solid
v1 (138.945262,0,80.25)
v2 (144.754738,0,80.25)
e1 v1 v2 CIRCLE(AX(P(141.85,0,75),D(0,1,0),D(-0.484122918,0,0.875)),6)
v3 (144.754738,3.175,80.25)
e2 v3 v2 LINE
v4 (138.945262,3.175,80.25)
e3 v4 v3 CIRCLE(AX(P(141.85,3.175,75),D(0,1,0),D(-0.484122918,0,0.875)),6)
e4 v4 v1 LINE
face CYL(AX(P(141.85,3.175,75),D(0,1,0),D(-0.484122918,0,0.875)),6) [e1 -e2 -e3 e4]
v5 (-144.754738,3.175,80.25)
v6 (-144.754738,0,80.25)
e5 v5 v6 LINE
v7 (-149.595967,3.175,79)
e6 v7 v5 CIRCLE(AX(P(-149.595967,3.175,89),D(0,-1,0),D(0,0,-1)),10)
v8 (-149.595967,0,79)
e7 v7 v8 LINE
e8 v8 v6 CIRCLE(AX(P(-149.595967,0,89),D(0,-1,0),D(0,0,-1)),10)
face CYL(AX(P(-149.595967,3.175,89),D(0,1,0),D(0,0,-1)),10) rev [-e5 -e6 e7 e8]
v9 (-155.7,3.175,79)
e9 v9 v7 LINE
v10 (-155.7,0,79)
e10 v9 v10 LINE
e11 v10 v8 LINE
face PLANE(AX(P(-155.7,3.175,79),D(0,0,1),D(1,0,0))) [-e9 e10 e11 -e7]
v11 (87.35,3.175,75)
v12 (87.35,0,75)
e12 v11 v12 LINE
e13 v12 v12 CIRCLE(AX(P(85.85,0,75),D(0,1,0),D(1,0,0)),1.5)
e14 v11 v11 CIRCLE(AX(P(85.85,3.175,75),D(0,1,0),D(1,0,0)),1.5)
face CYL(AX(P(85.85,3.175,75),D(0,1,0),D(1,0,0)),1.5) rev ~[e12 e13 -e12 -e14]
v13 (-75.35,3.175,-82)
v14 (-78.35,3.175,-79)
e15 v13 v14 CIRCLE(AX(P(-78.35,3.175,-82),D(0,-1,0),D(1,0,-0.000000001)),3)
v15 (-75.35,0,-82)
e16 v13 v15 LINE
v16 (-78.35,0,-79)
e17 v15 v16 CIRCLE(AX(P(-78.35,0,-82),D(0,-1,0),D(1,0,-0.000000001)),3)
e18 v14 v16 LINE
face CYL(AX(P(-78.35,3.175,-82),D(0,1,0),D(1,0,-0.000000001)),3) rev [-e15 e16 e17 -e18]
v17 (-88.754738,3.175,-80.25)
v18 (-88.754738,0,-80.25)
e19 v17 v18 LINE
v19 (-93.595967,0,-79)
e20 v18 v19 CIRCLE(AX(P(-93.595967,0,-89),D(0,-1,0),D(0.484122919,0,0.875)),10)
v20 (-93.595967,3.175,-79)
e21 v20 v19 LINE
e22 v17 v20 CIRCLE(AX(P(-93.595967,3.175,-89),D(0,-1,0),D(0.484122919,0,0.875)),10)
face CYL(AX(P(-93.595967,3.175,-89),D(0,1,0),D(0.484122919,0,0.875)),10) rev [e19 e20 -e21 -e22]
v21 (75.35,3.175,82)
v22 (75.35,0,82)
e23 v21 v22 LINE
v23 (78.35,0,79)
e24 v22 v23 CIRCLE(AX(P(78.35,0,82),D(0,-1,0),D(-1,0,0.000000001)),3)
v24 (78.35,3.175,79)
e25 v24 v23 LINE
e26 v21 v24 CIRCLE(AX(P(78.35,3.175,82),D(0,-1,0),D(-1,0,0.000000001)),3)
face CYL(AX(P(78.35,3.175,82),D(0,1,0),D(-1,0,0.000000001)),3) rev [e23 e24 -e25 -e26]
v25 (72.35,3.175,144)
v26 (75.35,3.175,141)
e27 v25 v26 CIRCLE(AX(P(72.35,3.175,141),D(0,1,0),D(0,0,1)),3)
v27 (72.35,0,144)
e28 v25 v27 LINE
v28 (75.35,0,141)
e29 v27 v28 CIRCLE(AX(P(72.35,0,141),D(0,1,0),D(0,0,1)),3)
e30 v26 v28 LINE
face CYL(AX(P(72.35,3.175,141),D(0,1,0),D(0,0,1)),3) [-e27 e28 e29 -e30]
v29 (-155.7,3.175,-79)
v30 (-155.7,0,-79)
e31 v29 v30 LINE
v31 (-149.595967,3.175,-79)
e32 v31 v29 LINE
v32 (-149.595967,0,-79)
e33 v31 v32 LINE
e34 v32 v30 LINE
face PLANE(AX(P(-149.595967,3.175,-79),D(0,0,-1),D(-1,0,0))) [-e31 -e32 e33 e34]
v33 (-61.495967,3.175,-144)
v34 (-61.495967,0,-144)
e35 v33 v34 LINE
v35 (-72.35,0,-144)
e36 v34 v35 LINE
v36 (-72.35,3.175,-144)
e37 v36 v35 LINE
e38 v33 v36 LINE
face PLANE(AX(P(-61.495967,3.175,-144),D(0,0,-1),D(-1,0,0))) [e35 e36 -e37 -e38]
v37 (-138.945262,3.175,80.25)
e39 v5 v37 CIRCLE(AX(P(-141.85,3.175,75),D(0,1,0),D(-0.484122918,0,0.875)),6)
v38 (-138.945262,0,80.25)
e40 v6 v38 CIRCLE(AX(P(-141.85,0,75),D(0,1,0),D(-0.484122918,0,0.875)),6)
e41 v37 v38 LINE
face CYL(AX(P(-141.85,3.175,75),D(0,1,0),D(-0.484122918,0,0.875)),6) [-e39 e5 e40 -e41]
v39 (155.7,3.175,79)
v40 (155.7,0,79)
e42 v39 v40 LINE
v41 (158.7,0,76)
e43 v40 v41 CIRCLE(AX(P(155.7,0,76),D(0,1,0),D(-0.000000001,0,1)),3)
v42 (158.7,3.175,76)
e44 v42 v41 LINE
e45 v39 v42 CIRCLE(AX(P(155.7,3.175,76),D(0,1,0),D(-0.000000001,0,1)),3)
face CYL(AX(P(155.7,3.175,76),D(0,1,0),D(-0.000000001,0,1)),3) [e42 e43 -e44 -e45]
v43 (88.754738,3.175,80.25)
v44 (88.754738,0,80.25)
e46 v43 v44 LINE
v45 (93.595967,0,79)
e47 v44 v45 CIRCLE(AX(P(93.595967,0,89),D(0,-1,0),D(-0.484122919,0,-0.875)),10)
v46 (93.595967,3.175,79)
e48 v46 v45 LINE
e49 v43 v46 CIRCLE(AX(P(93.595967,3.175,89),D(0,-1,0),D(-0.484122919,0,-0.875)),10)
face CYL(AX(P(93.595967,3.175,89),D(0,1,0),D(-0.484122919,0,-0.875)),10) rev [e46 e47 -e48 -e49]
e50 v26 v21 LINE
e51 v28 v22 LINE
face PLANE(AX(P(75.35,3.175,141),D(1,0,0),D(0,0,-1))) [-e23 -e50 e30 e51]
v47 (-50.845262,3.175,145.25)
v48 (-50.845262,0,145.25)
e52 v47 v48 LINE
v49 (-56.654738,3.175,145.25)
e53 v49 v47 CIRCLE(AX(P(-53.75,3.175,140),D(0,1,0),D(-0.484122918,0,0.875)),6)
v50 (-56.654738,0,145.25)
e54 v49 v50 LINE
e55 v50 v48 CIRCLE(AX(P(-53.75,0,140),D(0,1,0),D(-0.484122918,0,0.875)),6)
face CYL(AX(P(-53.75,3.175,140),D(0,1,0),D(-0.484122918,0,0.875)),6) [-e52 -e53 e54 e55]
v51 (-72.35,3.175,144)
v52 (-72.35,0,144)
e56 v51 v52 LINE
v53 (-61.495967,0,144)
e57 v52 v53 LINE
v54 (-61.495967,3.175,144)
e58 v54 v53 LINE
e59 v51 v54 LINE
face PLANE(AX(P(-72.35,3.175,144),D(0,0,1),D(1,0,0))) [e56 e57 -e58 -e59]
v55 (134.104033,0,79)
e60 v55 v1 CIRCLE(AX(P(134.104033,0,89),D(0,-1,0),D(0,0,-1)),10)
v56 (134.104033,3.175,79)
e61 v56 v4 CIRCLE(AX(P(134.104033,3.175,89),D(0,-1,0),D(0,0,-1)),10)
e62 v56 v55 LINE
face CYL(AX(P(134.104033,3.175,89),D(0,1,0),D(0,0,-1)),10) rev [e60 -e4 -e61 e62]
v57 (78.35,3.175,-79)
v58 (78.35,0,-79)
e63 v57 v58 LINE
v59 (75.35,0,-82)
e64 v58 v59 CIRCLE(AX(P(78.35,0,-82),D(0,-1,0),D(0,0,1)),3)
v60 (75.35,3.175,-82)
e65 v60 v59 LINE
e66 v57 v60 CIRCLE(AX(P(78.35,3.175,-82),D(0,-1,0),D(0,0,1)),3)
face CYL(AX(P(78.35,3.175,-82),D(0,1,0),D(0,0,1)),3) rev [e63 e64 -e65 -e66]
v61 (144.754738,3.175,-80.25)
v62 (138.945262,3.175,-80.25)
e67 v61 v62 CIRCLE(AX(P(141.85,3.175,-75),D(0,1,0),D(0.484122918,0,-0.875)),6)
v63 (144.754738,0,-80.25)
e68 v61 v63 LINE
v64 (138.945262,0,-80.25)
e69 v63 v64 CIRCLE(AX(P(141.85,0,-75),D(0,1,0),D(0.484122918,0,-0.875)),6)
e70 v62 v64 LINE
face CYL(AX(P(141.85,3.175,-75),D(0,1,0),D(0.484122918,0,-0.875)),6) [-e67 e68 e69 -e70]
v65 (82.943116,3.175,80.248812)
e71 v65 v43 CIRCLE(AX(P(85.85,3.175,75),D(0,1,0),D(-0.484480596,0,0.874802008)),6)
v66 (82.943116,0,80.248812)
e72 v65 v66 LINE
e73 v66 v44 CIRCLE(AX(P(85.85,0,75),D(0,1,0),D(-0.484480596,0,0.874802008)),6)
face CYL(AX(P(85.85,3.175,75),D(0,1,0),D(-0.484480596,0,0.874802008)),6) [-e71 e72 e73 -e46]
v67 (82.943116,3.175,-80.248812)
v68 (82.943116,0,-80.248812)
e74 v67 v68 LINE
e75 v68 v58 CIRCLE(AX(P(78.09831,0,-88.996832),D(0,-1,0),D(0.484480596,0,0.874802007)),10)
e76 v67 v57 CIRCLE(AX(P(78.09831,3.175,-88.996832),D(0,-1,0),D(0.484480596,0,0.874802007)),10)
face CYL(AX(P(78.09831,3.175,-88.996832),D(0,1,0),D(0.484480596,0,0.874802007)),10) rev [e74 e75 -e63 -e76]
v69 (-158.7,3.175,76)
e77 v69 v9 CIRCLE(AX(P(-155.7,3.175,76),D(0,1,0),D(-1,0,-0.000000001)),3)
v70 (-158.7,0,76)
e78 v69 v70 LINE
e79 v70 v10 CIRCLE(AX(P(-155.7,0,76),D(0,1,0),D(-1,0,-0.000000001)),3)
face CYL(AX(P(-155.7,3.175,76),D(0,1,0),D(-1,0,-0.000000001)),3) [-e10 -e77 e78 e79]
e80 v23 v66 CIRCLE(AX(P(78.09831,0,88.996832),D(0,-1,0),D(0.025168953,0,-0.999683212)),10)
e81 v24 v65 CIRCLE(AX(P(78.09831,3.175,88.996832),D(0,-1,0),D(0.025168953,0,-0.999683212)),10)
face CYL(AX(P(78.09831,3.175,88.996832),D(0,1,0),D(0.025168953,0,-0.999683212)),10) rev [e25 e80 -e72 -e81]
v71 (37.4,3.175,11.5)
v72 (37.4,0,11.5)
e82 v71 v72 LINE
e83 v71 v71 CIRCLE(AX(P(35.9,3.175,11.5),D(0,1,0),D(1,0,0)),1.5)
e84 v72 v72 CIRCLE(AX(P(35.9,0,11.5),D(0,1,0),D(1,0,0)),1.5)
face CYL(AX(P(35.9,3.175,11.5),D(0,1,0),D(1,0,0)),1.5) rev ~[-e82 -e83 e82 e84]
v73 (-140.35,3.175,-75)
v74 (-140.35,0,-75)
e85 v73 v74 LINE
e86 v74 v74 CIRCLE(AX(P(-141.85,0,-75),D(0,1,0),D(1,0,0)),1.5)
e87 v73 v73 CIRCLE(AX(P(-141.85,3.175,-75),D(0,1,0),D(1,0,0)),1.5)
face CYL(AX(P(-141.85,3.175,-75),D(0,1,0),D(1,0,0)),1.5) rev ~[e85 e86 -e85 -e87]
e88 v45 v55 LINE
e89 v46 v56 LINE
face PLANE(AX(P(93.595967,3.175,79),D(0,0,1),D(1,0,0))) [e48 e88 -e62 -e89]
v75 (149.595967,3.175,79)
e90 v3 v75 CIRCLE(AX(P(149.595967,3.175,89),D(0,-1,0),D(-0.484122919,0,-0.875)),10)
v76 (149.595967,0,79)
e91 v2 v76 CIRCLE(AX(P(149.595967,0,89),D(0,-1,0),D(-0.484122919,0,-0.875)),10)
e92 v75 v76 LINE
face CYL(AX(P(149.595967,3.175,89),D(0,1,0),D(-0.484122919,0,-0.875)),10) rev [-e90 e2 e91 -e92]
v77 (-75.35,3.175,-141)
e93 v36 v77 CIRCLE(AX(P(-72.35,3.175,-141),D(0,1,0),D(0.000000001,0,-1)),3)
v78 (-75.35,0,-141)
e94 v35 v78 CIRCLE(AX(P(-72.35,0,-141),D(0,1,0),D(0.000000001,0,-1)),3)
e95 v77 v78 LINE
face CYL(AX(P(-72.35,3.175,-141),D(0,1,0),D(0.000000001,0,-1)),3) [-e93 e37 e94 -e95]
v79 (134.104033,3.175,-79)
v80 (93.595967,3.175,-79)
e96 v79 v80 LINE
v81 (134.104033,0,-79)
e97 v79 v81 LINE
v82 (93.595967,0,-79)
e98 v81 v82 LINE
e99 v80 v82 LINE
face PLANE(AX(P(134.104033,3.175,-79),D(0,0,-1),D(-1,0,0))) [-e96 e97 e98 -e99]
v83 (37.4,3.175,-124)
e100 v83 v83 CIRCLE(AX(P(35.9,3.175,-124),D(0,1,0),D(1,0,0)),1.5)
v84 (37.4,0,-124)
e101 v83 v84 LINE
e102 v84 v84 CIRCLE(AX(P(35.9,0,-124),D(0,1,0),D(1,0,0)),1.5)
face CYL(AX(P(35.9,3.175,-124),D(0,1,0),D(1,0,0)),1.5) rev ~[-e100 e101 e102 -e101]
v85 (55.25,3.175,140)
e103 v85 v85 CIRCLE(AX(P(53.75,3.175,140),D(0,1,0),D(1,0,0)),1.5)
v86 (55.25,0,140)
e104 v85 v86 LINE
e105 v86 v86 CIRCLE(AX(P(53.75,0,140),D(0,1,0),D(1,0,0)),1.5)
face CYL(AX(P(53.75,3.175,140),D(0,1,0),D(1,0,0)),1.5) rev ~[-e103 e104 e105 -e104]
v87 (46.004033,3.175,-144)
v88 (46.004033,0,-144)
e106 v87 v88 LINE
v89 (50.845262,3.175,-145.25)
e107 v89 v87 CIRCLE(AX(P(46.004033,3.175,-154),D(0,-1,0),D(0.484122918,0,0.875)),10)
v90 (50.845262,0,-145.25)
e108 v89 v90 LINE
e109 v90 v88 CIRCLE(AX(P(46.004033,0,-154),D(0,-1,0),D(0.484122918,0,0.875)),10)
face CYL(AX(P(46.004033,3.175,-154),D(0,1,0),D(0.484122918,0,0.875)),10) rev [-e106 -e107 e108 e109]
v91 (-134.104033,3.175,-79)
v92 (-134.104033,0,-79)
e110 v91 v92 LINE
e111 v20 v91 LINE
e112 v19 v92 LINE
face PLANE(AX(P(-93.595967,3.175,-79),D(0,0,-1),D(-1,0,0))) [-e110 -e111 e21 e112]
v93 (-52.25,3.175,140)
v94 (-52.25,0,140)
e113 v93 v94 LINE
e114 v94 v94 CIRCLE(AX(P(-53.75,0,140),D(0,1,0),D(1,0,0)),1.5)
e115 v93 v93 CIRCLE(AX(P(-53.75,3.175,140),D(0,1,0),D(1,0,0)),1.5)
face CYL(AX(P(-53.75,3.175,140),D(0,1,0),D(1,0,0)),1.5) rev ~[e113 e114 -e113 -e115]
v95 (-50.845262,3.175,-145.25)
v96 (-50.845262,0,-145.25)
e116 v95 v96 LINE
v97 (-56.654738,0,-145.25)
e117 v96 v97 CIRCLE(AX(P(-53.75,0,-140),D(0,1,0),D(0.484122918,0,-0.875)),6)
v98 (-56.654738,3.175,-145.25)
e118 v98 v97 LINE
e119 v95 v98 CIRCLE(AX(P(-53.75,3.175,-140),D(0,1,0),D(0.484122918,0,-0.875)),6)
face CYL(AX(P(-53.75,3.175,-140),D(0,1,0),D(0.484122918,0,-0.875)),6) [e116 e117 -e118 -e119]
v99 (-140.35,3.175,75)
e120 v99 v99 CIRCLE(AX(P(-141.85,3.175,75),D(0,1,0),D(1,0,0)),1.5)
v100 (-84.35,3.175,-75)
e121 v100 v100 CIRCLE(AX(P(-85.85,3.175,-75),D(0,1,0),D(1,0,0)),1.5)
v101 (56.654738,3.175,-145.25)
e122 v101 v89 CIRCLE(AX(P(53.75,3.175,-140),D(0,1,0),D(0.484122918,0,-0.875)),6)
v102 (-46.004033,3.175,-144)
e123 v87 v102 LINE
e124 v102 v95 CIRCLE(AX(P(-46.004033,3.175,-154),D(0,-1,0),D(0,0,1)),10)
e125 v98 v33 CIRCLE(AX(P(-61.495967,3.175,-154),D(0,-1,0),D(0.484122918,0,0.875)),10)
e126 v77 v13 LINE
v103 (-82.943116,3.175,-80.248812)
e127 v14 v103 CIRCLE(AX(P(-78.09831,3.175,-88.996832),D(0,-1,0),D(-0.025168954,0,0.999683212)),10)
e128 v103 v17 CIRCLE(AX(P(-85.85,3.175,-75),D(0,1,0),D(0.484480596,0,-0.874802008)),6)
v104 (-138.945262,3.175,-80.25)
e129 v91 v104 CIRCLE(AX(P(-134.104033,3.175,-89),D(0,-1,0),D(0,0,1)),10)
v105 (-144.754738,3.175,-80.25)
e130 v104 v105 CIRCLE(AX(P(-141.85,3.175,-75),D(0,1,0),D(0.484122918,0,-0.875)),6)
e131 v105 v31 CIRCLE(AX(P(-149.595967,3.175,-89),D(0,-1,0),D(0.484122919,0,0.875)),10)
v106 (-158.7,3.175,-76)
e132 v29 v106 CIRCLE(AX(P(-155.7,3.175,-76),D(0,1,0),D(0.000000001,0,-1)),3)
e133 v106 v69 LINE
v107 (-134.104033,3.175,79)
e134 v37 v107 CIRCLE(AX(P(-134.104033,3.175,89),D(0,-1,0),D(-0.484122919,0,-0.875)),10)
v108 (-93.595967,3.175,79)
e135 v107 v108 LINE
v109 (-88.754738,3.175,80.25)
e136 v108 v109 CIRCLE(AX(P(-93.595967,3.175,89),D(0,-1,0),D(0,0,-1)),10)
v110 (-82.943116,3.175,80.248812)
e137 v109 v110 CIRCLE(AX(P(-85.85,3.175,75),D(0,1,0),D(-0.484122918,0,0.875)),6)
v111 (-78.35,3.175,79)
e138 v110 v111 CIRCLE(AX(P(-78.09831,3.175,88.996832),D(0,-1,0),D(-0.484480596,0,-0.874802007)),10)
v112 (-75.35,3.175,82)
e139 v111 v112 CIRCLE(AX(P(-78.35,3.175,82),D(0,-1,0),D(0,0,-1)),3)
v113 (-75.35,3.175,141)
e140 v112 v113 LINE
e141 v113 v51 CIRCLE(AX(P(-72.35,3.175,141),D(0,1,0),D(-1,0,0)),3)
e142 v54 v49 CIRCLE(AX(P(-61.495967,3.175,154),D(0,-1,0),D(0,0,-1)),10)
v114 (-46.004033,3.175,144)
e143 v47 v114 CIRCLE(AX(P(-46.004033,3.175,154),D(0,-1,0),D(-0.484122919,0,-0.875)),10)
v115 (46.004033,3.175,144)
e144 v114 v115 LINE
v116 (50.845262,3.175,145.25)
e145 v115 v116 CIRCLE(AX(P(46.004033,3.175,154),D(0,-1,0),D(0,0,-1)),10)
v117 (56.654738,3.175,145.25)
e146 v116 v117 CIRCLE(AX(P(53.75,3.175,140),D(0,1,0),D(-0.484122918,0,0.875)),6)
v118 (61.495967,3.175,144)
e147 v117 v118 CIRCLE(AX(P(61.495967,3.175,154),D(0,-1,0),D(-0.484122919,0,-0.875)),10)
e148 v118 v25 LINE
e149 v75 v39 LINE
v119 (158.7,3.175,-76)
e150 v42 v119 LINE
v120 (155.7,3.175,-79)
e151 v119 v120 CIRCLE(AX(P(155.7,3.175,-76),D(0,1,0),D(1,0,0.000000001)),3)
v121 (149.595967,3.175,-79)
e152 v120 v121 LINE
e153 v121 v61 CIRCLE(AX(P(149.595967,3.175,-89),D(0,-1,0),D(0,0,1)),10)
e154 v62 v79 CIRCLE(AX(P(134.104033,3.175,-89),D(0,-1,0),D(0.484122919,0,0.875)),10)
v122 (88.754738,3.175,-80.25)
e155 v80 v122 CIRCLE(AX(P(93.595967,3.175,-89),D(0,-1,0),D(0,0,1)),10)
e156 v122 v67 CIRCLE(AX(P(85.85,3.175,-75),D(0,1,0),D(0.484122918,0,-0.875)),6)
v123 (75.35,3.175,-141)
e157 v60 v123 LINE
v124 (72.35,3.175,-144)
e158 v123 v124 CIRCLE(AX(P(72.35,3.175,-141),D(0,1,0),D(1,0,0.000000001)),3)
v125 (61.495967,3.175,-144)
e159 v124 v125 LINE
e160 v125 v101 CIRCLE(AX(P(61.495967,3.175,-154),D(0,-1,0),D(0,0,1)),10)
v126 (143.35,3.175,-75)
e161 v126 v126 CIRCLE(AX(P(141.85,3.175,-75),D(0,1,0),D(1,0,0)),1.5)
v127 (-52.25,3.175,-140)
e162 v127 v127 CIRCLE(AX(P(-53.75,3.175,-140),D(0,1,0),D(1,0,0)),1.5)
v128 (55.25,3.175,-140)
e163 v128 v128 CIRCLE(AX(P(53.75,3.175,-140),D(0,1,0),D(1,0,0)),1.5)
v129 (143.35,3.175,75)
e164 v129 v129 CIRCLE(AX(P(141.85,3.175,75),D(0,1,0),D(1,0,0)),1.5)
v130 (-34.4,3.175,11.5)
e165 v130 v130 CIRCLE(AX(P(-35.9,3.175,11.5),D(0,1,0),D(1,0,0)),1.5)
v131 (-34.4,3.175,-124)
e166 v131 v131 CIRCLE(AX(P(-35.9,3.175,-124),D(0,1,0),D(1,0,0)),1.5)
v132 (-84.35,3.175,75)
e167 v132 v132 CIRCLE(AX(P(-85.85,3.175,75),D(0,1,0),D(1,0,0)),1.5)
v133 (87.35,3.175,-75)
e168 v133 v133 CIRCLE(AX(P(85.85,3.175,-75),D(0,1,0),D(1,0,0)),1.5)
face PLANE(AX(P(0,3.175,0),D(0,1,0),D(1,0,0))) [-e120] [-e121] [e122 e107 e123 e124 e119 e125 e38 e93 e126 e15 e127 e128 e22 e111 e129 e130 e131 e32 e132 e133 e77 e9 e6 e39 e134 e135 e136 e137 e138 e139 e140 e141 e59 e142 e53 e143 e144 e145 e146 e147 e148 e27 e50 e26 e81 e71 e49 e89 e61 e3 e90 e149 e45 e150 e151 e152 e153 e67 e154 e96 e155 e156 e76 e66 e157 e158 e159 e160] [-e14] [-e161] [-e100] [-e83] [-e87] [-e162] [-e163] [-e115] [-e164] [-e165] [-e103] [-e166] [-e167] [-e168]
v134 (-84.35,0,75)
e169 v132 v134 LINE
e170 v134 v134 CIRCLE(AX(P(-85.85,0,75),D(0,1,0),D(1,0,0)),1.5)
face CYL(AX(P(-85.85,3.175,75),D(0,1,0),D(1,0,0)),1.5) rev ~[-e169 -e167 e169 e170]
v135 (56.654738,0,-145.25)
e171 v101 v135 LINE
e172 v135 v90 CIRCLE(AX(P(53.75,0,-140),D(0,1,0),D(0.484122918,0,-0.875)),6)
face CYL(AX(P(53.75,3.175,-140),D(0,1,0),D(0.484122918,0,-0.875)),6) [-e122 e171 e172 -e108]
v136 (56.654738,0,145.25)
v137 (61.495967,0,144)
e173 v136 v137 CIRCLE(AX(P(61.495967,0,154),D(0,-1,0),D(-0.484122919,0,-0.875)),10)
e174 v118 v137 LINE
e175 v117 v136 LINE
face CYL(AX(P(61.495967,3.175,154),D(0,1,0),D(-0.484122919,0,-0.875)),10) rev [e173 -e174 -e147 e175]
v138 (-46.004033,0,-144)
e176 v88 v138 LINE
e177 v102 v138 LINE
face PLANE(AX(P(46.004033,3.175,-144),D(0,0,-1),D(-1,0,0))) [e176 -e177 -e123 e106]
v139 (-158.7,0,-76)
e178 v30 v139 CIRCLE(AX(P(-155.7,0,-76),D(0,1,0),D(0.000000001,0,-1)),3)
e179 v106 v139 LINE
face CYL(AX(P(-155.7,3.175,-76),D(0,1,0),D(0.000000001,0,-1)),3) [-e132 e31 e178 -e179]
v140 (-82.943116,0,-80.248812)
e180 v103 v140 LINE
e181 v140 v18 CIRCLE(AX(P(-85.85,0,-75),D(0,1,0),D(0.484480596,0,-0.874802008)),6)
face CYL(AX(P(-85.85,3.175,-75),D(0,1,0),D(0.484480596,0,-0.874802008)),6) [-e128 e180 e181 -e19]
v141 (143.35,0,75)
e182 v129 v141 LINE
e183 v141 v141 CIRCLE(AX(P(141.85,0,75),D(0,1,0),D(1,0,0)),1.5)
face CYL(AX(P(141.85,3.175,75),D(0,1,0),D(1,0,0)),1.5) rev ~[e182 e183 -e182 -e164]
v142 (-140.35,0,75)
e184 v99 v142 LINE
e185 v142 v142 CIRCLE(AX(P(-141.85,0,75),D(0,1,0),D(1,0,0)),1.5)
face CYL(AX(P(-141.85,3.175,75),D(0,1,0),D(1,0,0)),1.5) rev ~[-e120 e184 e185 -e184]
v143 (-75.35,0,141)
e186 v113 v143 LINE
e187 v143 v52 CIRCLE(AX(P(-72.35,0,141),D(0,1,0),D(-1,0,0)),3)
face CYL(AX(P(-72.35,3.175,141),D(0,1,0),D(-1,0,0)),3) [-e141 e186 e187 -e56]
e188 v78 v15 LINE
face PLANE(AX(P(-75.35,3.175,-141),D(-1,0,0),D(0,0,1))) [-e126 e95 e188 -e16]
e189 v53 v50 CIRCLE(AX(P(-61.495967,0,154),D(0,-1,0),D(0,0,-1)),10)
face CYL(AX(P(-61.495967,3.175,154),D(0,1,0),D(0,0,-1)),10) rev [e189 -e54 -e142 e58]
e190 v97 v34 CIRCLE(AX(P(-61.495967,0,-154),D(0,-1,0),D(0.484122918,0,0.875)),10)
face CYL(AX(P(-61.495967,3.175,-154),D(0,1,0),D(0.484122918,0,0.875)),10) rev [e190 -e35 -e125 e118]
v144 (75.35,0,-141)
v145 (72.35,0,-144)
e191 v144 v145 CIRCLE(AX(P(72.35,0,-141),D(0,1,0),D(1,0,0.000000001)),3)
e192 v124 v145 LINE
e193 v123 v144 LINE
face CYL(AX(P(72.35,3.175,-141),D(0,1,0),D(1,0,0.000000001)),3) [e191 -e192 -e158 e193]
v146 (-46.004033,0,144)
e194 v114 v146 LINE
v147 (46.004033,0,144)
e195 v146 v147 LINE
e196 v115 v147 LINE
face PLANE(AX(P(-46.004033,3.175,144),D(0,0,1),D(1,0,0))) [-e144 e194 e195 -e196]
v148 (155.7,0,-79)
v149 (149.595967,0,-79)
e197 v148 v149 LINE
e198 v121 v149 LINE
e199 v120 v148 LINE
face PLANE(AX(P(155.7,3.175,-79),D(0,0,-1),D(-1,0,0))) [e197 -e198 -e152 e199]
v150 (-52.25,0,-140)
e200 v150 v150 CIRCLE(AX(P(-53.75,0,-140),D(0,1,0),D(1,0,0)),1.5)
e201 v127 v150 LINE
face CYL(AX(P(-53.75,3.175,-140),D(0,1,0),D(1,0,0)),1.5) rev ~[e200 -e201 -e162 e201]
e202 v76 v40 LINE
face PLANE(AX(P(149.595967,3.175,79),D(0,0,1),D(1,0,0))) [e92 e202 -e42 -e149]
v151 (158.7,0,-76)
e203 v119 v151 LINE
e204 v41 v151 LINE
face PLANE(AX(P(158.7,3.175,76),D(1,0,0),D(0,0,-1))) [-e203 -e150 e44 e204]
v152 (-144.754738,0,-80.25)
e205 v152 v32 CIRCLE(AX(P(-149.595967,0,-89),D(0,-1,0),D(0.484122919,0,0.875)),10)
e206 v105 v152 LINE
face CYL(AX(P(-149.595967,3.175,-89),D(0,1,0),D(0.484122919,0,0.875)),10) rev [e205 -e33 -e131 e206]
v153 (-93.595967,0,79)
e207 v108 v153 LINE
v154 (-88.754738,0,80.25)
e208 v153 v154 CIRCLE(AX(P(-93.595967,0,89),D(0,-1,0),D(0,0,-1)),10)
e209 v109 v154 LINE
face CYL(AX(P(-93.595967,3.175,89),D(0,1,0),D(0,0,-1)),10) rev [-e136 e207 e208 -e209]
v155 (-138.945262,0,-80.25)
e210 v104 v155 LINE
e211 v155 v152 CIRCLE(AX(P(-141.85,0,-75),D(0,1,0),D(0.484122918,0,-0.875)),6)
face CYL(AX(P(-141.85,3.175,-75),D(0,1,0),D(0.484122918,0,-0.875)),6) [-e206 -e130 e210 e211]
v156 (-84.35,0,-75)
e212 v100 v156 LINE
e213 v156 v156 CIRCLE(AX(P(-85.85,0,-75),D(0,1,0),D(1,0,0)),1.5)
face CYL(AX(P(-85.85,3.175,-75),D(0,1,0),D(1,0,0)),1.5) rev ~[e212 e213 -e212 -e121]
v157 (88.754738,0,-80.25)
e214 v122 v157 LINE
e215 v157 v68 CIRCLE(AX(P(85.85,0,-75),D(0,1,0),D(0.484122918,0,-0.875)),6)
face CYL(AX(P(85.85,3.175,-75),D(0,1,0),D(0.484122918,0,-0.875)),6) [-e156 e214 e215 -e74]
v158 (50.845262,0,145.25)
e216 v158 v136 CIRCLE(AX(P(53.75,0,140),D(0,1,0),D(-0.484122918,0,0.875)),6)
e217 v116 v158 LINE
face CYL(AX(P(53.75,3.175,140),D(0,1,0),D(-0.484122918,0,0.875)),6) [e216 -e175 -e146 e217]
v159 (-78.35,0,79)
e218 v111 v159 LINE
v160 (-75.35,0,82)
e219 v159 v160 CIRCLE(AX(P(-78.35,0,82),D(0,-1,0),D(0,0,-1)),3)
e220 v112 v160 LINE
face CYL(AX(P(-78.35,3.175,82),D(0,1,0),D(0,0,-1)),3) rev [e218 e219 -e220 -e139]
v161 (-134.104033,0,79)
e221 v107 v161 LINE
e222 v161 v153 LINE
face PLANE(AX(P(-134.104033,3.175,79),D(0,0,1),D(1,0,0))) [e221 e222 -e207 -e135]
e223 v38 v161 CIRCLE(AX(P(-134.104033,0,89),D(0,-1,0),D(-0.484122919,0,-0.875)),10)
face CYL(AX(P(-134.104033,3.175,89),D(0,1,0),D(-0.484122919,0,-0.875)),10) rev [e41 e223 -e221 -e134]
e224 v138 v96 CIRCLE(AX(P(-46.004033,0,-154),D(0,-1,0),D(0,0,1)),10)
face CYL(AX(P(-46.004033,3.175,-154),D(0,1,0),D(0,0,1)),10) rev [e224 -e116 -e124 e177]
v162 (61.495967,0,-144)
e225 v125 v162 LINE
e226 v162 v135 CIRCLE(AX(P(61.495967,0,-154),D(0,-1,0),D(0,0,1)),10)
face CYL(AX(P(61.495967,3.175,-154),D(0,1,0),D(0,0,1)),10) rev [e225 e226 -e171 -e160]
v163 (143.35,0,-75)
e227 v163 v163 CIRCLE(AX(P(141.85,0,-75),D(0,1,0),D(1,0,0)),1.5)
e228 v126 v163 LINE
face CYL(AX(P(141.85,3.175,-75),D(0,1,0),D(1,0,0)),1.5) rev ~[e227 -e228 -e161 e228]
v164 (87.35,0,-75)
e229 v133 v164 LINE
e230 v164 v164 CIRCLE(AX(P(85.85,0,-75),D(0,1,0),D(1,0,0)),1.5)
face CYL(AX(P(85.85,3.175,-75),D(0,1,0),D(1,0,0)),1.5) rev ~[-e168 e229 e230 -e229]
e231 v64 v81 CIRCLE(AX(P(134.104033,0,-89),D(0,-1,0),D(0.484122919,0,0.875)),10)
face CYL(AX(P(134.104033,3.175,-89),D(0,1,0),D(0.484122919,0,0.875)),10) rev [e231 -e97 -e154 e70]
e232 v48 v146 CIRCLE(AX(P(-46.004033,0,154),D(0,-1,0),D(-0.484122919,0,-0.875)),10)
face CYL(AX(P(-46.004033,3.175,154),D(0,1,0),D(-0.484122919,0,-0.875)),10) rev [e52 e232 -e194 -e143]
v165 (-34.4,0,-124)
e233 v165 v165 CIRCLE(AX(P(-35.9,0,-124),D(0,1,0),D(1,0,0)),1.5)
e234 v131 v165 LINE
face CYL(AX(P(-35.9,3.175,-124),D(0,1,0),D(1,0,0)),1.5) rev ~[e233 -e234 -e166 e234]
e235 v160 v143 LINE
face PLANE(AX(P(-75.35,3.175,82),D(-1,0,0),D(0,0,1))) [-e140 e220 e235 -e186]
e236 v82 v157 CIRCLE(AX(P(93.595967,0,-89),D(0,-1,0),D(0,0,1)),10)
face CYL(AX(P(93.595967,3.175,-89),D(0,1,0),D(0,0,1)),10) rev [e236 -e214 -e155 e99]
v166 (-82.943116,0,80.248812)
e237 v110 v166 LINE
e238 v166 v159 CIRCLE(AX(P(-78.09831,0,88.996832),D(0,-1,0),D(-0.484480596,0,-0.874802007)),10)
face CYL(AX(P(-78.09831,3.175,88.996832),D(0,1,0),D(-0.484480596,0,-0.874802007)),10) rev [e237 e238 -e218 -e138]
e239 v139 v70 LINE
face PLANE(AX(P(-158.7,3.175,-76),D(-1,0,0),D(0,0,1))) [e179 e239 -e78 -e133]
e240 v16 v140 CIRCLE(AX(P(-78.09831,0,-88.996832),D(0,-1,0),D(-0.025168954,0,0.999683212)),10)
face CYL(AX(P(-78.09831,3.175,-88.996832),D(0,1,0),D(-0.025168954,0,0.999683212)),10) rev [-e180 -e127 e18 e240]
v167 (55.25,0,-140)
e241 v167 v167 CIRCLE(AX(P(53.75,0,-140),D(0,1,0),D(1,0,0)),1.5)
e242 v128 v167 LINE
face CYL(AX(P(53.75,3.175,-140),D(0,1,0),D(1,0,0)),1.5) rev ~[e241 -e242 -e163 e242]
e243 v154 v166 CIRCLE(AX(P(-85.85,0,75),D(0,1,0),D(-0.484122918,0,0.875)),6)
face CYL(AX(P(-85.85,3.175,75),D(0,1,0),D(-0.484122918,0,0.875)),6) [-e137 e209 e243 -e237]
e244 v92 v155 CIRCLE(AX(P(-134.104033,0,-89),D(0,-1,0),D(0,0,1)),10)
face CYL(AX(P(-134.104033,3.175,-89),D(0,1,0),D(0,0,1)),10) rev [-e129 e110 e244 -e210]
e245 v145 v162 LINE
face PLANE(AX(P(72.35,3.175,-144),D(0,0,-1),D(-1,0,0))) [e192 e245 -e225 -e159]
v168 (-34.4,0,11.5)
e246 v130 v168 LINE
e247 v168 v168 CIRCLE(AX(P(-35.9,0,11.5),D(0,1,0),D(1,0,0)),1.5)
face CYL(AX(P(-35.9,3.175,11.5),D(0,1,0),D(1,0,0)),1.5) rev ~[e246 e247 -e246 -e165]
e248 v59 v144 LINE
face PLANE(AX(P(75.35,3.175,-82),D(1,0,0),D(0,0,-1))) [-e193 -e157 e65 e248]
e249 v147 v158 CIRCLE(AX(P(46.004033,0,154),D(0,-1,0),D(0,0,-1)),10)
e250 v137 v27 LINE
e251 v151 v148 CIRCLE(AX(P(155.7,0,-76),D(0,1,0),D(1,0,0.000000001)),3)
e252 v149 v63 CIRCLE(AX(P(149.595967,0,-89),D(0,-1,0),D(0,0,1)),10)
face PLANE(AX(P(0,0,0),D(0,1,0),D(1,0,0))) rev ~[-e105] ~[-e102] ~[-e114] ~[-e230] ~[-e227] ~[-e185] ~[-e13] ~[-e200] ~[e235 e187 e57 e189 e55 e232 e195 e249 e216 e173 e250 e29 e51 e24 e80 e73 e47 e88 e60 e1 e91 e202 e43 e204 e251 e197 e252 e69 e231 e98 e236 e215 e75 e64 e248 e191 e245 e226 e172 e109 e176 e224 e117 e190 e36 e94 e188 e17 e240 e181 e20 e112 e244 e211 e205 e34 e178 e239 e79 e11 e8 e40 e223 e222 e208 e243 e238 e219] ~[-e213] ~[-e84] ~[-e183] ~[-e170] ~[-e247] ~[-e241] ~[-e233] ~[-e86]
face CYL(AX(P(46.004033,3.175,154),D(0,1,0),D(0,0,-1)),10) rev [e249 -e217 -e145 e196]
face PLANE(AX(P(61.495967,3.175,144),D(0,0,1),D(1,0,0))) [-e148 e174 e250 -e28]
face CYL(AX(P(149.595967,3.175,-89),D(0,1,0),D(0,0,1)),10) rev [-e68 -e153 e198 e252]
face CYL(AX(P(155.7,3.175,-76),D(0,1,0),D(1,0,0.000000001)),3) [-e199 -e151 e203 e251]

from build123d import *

# Parameters (mm, degrees)
SKETCH1_R           = 1.5
BOSS_EXTRUDE1_DEPTH = 3.175


with BuildPart() as part:
    # Sketch1 → Boss-Extrude1 (new body)
    with BuildSketch(Plane(origin=(0, 3.175, 0), x_dir=(1, 0, 0), z_dir=(0, 1, 0))):
        with BuildLine():
            Line((93.595966692, -79), (134.104033308, -79))
            ThreePointArc((134.104033308, -79), (136.604033308, -79.317541634), (138.945262491, -80.25))
            ThreePointArc((138.945262491, -80.25), (141.85, -81), (144.754737509, -80.25))
            ThreePointArc((144.754737509, -80.25), (147.095966692, -79.317541634), (149.595966692, -79))
            Line((149.595966692, -79), (155.7, -79))
            ThreePointArc((155.7, -79), (157.821320344, -78.121320344), (158.7, -76))
            Line((158.7, -76), (158.7, 76))
            ThreePointArc((158.7, 76), (157.821320344, 78.121320344), (155.7, 79))
            Line((155.7, 79), (149.595966692, 79))
            ThreePointArc((149.595966692, 79), (147.095966692, 79.317541634), (144.754737509, 80.25))
            ThreePointArc((144.754737509, 80.25), (141.85, 81), (138.945262491, 80.25))
            ThreePointArc((138.945262491, 80.25), (136.604033308, 79.317541634), (134.104033308, 79))
            Line((134.104033308, 79), (93.595966692, 79))
            ThreePointArc((93.595966692, 79), (91.095966692, 79.317541635), (88.754737509, 80.25))
            ThreePointArc((88.754737509, 80.25), (85.848773537, 80.999999875), (82.943116423, 80.248812044))
            ThreePointArc((82.943116423, 80.248812044), (80.721943339, 79.347140385), (78.350000001, 79))
            ThreePointArc((78.350000001, 79), (76.228679657, 79.878679657), (75.35, 82))
            Line((75.35, 82), (75.35, 141))
            ThreePointArc((75.35, 141), (74.471320344, 143.121320344), (72.35, 144))
            Line((72.35, 144), (61.495966692, 144))
            ThreePointArc((61.495966692, 144), (58.995966692, 144.317541635), (56.65473751, 145.25))
            ThreePointArc((56.65473751, 145.25), (53.75, 146), (50.845262491, 145.25))
            ThreePointArc((50.845262491, 145.25), (48.504033308, 144.317541635), (46.004033308, 144))
            Line((46.004033308, 144), (-46.004033308, 144))
            ThreePointArc((-46.004033308, 144), (-48.504033308, 144.317541635), (-50.84526249, 145.25))
            ThreePointArc((-50.84526249, 145.25), (-53.75, 146), (-56.654737509, 145.25))
            ThreePointArc((-56.654737509, 145.25), (-58.995966692, 144.317541635), (-61.495966692, 144))
            Line((-61.495966692, 144), (-72.35, 144))
            ThreePointArc((-72.35, 144), (-74.471320344, 143.121320344), (-75.35, 141))
            Line((-75.35, 141), (-75.35, 82))
            ThreePointArc((-75.35, 82), (-76.228679657, 79.878679655), (-78.350000003, 79))
            ThreePointArc((-78.350000003, 79), (-80.72194334, 79.347140385), (-82.943116423, 80.248812044))
            ThreePointArc((-82.943116423, 80.248812044), (-85.848773537, 80.999999874), (-88.754737509, 80.25))
            ThreePointArc((-88.754737509, 80.25), (-91.095966692, 79.317541634), (-93.595966692, 79))
            Line((-93.595966692, 79), (-134.104033308, 79))
            ThreePointArc((-134.104033308, 79), (-136.604033308, 79.317541634), (-138.945262491, 80.25))
            ThreePointArc((-138.945262491, 80.25), (-141.85, 81), (-144.754737509, 80.25))
            ThreePointArc((-144.754737509, 80.25), (-147.095966692, 79.317541634), (-149.595966692, 79))
            Line((-149.595966692, 79), (-155.7, 79))
            ThreePointArc((-155.7, 79), (-157.821320344, 78.121320344), (-158.7, 76))
            Line((-158.7, 76), (-158.7, -76))
            ThreePointArc((-158.7, -76), (-157.821320344, -78.121320344), (-155.7, -79))
            Line((-155.7, -79), (-149.595966692, -79))
            ThreePointArc((-149.595966692, -79), (-147.095966692, -79.317541634), (-144.754737509, -80.25))
            ThreePointArc((-144.754737509, -80.25), (-141.85, -81), (-138.945262491, -80.25))
            ThreePointArc((-138.945262491, -80.25), (-136.604033308, -79.317541634), (-134.104033308, -79))
            Line((-134.104033308, -79), (-93.595966692, -79))
            ThreePointArc((-93.595966692, -79), (-91.095966692, -79.317541634), (-88.754737509, -80.25))
            ThreePointArc((-88.754737509, -80.25), (-85.848773537, -80.999999874), (-82.943116423, -80.248812044))
            ThreePointArc((-82.943116423, -80.248812044), (-80.721943339, -79.347140385), (-78.350000001, -79))
            ThreePointArc((-78.350000001, -79), (-76.228679657, -79.878679656), (-75.35, -82))
            Line((-75.35, -82), (-75.35, -141))
            ThreePointArc((-75.35, -141), (-74.471320344, -143.121320343), (-72.35, -144))
            Line((-72.35, -144), (-61.495966692, -144))
            ThreePointArc((-61.495966692, -144), (-58.995966692, -144.317541634), (-56.654737509, -145.25))
            ThreePointArc((-56.654737509, -145.25), (-53.75, -145.999999999), (-50.84526249, -145.25))
            ThreePointArc((-50.84526249, -145.25), (-48.504033308, -144.317541634), (-46.004033308, -144))
            Line((-46.004033308, -144), (46.004033308, -144))
            ThreePointArc((46.004033308, -144), (48.504033308, -144.317541634), (50.845262491, -145.25))
            ThreePointArc((50.845262491, -145.25), (53.75, -145.999999999), (56.65473751, -145.25))
            ThreePointArc((56.65473751, -145.25), (58.995966692, -144.317541634), (61.495966692, -144))
            Line((61.495966692, -144), (72.35, -144))
            ThreePointArc((72.35, -144), (74.471320344, -143.121320343), (75.35, -141))
            Line((75.35, -141), (75.35, -82))
            ThreePointArc((75.35, -82), (76.228679656, -79.878679656), (78.35, -79))
            ThreePointArc((78.35, -79), (80.721943339, -79.347140384), (82.943116423, -80.248812044))
            ThreePointArc((82.943116423, -80.248812044), (85.848773537, -80.999999874), (88.754737509, -80.25))
            ThreePointArc((88.754737509, -80.25), (91.095966692, -79.317541634), (93.595966692, -79))
        make_face()
        with Locations((141.85, -75)):
            Circle(SKETCH1_R, mode=Mode.SUBTRACT)
        with Locations((85.85, -75)):
            Circle(SKETCH1_R, mode=Mode.SUBTRACT)
        with Locations((53.75, -140)):
            Circle(SKETCH1_R, mode=Mode.SUBTRACT)
        with Locations((-53.75, -140)):
            Circle(SKETCH1_R, mode=Mode.SUBTRACT)
        with Locations((-85.85, -75)):
            Circle(SKETCH1_R, mode=Mode.SUBTRACT)
        with Locations((-141.85, -75)):
            Circle(SKETCH1_R, mode=Mode.SUBTRACT)
        with Locations((141.85, 75)):
            Circle(SKETCH1_R, mode=Mode.SUBTRACT)
        with Locations((85.849999999, 75)):
            Circle(SKETCH1_R, mode=Mode.SUBTRACT)
        with Locations((53.75, 140)):
            Circle(SKETCH1_R, mode=Mode.SUBTRACT)
        with Locations((-53.75, 140)):
            Circle(SKETCH1_R, mode=Mode.SUBTRACT)
        with Locations((-85.85, 75)):
            Circle(SKETCH1_R, mode=Mode.SUBTRACT)
        with Locations((-141.85, 75)):
            Circle(SKETCH1_R, mode=Mode.SUBTRACT)
        with Locations((-35.9, 124)):
            Circle(SKETCH1_R, mode=Mode.SUBTRACT)
        with Locations((35.9, 124)):
            Circle(SKETCH1_R, mode=Mode.SUBTRACT)
        with Locations((-35.9, -11.5)):
            Circle(SKETCH1_R, mode=Mode.SUBTRACT)
        with Locations((35.9, -11.5)):
            Circle(SKETCH1_R, mode=Mode.SUBTRACT)
    extrude(amount=-BOSS_EXTRUDE1_DEPTH)


solid = part.part
